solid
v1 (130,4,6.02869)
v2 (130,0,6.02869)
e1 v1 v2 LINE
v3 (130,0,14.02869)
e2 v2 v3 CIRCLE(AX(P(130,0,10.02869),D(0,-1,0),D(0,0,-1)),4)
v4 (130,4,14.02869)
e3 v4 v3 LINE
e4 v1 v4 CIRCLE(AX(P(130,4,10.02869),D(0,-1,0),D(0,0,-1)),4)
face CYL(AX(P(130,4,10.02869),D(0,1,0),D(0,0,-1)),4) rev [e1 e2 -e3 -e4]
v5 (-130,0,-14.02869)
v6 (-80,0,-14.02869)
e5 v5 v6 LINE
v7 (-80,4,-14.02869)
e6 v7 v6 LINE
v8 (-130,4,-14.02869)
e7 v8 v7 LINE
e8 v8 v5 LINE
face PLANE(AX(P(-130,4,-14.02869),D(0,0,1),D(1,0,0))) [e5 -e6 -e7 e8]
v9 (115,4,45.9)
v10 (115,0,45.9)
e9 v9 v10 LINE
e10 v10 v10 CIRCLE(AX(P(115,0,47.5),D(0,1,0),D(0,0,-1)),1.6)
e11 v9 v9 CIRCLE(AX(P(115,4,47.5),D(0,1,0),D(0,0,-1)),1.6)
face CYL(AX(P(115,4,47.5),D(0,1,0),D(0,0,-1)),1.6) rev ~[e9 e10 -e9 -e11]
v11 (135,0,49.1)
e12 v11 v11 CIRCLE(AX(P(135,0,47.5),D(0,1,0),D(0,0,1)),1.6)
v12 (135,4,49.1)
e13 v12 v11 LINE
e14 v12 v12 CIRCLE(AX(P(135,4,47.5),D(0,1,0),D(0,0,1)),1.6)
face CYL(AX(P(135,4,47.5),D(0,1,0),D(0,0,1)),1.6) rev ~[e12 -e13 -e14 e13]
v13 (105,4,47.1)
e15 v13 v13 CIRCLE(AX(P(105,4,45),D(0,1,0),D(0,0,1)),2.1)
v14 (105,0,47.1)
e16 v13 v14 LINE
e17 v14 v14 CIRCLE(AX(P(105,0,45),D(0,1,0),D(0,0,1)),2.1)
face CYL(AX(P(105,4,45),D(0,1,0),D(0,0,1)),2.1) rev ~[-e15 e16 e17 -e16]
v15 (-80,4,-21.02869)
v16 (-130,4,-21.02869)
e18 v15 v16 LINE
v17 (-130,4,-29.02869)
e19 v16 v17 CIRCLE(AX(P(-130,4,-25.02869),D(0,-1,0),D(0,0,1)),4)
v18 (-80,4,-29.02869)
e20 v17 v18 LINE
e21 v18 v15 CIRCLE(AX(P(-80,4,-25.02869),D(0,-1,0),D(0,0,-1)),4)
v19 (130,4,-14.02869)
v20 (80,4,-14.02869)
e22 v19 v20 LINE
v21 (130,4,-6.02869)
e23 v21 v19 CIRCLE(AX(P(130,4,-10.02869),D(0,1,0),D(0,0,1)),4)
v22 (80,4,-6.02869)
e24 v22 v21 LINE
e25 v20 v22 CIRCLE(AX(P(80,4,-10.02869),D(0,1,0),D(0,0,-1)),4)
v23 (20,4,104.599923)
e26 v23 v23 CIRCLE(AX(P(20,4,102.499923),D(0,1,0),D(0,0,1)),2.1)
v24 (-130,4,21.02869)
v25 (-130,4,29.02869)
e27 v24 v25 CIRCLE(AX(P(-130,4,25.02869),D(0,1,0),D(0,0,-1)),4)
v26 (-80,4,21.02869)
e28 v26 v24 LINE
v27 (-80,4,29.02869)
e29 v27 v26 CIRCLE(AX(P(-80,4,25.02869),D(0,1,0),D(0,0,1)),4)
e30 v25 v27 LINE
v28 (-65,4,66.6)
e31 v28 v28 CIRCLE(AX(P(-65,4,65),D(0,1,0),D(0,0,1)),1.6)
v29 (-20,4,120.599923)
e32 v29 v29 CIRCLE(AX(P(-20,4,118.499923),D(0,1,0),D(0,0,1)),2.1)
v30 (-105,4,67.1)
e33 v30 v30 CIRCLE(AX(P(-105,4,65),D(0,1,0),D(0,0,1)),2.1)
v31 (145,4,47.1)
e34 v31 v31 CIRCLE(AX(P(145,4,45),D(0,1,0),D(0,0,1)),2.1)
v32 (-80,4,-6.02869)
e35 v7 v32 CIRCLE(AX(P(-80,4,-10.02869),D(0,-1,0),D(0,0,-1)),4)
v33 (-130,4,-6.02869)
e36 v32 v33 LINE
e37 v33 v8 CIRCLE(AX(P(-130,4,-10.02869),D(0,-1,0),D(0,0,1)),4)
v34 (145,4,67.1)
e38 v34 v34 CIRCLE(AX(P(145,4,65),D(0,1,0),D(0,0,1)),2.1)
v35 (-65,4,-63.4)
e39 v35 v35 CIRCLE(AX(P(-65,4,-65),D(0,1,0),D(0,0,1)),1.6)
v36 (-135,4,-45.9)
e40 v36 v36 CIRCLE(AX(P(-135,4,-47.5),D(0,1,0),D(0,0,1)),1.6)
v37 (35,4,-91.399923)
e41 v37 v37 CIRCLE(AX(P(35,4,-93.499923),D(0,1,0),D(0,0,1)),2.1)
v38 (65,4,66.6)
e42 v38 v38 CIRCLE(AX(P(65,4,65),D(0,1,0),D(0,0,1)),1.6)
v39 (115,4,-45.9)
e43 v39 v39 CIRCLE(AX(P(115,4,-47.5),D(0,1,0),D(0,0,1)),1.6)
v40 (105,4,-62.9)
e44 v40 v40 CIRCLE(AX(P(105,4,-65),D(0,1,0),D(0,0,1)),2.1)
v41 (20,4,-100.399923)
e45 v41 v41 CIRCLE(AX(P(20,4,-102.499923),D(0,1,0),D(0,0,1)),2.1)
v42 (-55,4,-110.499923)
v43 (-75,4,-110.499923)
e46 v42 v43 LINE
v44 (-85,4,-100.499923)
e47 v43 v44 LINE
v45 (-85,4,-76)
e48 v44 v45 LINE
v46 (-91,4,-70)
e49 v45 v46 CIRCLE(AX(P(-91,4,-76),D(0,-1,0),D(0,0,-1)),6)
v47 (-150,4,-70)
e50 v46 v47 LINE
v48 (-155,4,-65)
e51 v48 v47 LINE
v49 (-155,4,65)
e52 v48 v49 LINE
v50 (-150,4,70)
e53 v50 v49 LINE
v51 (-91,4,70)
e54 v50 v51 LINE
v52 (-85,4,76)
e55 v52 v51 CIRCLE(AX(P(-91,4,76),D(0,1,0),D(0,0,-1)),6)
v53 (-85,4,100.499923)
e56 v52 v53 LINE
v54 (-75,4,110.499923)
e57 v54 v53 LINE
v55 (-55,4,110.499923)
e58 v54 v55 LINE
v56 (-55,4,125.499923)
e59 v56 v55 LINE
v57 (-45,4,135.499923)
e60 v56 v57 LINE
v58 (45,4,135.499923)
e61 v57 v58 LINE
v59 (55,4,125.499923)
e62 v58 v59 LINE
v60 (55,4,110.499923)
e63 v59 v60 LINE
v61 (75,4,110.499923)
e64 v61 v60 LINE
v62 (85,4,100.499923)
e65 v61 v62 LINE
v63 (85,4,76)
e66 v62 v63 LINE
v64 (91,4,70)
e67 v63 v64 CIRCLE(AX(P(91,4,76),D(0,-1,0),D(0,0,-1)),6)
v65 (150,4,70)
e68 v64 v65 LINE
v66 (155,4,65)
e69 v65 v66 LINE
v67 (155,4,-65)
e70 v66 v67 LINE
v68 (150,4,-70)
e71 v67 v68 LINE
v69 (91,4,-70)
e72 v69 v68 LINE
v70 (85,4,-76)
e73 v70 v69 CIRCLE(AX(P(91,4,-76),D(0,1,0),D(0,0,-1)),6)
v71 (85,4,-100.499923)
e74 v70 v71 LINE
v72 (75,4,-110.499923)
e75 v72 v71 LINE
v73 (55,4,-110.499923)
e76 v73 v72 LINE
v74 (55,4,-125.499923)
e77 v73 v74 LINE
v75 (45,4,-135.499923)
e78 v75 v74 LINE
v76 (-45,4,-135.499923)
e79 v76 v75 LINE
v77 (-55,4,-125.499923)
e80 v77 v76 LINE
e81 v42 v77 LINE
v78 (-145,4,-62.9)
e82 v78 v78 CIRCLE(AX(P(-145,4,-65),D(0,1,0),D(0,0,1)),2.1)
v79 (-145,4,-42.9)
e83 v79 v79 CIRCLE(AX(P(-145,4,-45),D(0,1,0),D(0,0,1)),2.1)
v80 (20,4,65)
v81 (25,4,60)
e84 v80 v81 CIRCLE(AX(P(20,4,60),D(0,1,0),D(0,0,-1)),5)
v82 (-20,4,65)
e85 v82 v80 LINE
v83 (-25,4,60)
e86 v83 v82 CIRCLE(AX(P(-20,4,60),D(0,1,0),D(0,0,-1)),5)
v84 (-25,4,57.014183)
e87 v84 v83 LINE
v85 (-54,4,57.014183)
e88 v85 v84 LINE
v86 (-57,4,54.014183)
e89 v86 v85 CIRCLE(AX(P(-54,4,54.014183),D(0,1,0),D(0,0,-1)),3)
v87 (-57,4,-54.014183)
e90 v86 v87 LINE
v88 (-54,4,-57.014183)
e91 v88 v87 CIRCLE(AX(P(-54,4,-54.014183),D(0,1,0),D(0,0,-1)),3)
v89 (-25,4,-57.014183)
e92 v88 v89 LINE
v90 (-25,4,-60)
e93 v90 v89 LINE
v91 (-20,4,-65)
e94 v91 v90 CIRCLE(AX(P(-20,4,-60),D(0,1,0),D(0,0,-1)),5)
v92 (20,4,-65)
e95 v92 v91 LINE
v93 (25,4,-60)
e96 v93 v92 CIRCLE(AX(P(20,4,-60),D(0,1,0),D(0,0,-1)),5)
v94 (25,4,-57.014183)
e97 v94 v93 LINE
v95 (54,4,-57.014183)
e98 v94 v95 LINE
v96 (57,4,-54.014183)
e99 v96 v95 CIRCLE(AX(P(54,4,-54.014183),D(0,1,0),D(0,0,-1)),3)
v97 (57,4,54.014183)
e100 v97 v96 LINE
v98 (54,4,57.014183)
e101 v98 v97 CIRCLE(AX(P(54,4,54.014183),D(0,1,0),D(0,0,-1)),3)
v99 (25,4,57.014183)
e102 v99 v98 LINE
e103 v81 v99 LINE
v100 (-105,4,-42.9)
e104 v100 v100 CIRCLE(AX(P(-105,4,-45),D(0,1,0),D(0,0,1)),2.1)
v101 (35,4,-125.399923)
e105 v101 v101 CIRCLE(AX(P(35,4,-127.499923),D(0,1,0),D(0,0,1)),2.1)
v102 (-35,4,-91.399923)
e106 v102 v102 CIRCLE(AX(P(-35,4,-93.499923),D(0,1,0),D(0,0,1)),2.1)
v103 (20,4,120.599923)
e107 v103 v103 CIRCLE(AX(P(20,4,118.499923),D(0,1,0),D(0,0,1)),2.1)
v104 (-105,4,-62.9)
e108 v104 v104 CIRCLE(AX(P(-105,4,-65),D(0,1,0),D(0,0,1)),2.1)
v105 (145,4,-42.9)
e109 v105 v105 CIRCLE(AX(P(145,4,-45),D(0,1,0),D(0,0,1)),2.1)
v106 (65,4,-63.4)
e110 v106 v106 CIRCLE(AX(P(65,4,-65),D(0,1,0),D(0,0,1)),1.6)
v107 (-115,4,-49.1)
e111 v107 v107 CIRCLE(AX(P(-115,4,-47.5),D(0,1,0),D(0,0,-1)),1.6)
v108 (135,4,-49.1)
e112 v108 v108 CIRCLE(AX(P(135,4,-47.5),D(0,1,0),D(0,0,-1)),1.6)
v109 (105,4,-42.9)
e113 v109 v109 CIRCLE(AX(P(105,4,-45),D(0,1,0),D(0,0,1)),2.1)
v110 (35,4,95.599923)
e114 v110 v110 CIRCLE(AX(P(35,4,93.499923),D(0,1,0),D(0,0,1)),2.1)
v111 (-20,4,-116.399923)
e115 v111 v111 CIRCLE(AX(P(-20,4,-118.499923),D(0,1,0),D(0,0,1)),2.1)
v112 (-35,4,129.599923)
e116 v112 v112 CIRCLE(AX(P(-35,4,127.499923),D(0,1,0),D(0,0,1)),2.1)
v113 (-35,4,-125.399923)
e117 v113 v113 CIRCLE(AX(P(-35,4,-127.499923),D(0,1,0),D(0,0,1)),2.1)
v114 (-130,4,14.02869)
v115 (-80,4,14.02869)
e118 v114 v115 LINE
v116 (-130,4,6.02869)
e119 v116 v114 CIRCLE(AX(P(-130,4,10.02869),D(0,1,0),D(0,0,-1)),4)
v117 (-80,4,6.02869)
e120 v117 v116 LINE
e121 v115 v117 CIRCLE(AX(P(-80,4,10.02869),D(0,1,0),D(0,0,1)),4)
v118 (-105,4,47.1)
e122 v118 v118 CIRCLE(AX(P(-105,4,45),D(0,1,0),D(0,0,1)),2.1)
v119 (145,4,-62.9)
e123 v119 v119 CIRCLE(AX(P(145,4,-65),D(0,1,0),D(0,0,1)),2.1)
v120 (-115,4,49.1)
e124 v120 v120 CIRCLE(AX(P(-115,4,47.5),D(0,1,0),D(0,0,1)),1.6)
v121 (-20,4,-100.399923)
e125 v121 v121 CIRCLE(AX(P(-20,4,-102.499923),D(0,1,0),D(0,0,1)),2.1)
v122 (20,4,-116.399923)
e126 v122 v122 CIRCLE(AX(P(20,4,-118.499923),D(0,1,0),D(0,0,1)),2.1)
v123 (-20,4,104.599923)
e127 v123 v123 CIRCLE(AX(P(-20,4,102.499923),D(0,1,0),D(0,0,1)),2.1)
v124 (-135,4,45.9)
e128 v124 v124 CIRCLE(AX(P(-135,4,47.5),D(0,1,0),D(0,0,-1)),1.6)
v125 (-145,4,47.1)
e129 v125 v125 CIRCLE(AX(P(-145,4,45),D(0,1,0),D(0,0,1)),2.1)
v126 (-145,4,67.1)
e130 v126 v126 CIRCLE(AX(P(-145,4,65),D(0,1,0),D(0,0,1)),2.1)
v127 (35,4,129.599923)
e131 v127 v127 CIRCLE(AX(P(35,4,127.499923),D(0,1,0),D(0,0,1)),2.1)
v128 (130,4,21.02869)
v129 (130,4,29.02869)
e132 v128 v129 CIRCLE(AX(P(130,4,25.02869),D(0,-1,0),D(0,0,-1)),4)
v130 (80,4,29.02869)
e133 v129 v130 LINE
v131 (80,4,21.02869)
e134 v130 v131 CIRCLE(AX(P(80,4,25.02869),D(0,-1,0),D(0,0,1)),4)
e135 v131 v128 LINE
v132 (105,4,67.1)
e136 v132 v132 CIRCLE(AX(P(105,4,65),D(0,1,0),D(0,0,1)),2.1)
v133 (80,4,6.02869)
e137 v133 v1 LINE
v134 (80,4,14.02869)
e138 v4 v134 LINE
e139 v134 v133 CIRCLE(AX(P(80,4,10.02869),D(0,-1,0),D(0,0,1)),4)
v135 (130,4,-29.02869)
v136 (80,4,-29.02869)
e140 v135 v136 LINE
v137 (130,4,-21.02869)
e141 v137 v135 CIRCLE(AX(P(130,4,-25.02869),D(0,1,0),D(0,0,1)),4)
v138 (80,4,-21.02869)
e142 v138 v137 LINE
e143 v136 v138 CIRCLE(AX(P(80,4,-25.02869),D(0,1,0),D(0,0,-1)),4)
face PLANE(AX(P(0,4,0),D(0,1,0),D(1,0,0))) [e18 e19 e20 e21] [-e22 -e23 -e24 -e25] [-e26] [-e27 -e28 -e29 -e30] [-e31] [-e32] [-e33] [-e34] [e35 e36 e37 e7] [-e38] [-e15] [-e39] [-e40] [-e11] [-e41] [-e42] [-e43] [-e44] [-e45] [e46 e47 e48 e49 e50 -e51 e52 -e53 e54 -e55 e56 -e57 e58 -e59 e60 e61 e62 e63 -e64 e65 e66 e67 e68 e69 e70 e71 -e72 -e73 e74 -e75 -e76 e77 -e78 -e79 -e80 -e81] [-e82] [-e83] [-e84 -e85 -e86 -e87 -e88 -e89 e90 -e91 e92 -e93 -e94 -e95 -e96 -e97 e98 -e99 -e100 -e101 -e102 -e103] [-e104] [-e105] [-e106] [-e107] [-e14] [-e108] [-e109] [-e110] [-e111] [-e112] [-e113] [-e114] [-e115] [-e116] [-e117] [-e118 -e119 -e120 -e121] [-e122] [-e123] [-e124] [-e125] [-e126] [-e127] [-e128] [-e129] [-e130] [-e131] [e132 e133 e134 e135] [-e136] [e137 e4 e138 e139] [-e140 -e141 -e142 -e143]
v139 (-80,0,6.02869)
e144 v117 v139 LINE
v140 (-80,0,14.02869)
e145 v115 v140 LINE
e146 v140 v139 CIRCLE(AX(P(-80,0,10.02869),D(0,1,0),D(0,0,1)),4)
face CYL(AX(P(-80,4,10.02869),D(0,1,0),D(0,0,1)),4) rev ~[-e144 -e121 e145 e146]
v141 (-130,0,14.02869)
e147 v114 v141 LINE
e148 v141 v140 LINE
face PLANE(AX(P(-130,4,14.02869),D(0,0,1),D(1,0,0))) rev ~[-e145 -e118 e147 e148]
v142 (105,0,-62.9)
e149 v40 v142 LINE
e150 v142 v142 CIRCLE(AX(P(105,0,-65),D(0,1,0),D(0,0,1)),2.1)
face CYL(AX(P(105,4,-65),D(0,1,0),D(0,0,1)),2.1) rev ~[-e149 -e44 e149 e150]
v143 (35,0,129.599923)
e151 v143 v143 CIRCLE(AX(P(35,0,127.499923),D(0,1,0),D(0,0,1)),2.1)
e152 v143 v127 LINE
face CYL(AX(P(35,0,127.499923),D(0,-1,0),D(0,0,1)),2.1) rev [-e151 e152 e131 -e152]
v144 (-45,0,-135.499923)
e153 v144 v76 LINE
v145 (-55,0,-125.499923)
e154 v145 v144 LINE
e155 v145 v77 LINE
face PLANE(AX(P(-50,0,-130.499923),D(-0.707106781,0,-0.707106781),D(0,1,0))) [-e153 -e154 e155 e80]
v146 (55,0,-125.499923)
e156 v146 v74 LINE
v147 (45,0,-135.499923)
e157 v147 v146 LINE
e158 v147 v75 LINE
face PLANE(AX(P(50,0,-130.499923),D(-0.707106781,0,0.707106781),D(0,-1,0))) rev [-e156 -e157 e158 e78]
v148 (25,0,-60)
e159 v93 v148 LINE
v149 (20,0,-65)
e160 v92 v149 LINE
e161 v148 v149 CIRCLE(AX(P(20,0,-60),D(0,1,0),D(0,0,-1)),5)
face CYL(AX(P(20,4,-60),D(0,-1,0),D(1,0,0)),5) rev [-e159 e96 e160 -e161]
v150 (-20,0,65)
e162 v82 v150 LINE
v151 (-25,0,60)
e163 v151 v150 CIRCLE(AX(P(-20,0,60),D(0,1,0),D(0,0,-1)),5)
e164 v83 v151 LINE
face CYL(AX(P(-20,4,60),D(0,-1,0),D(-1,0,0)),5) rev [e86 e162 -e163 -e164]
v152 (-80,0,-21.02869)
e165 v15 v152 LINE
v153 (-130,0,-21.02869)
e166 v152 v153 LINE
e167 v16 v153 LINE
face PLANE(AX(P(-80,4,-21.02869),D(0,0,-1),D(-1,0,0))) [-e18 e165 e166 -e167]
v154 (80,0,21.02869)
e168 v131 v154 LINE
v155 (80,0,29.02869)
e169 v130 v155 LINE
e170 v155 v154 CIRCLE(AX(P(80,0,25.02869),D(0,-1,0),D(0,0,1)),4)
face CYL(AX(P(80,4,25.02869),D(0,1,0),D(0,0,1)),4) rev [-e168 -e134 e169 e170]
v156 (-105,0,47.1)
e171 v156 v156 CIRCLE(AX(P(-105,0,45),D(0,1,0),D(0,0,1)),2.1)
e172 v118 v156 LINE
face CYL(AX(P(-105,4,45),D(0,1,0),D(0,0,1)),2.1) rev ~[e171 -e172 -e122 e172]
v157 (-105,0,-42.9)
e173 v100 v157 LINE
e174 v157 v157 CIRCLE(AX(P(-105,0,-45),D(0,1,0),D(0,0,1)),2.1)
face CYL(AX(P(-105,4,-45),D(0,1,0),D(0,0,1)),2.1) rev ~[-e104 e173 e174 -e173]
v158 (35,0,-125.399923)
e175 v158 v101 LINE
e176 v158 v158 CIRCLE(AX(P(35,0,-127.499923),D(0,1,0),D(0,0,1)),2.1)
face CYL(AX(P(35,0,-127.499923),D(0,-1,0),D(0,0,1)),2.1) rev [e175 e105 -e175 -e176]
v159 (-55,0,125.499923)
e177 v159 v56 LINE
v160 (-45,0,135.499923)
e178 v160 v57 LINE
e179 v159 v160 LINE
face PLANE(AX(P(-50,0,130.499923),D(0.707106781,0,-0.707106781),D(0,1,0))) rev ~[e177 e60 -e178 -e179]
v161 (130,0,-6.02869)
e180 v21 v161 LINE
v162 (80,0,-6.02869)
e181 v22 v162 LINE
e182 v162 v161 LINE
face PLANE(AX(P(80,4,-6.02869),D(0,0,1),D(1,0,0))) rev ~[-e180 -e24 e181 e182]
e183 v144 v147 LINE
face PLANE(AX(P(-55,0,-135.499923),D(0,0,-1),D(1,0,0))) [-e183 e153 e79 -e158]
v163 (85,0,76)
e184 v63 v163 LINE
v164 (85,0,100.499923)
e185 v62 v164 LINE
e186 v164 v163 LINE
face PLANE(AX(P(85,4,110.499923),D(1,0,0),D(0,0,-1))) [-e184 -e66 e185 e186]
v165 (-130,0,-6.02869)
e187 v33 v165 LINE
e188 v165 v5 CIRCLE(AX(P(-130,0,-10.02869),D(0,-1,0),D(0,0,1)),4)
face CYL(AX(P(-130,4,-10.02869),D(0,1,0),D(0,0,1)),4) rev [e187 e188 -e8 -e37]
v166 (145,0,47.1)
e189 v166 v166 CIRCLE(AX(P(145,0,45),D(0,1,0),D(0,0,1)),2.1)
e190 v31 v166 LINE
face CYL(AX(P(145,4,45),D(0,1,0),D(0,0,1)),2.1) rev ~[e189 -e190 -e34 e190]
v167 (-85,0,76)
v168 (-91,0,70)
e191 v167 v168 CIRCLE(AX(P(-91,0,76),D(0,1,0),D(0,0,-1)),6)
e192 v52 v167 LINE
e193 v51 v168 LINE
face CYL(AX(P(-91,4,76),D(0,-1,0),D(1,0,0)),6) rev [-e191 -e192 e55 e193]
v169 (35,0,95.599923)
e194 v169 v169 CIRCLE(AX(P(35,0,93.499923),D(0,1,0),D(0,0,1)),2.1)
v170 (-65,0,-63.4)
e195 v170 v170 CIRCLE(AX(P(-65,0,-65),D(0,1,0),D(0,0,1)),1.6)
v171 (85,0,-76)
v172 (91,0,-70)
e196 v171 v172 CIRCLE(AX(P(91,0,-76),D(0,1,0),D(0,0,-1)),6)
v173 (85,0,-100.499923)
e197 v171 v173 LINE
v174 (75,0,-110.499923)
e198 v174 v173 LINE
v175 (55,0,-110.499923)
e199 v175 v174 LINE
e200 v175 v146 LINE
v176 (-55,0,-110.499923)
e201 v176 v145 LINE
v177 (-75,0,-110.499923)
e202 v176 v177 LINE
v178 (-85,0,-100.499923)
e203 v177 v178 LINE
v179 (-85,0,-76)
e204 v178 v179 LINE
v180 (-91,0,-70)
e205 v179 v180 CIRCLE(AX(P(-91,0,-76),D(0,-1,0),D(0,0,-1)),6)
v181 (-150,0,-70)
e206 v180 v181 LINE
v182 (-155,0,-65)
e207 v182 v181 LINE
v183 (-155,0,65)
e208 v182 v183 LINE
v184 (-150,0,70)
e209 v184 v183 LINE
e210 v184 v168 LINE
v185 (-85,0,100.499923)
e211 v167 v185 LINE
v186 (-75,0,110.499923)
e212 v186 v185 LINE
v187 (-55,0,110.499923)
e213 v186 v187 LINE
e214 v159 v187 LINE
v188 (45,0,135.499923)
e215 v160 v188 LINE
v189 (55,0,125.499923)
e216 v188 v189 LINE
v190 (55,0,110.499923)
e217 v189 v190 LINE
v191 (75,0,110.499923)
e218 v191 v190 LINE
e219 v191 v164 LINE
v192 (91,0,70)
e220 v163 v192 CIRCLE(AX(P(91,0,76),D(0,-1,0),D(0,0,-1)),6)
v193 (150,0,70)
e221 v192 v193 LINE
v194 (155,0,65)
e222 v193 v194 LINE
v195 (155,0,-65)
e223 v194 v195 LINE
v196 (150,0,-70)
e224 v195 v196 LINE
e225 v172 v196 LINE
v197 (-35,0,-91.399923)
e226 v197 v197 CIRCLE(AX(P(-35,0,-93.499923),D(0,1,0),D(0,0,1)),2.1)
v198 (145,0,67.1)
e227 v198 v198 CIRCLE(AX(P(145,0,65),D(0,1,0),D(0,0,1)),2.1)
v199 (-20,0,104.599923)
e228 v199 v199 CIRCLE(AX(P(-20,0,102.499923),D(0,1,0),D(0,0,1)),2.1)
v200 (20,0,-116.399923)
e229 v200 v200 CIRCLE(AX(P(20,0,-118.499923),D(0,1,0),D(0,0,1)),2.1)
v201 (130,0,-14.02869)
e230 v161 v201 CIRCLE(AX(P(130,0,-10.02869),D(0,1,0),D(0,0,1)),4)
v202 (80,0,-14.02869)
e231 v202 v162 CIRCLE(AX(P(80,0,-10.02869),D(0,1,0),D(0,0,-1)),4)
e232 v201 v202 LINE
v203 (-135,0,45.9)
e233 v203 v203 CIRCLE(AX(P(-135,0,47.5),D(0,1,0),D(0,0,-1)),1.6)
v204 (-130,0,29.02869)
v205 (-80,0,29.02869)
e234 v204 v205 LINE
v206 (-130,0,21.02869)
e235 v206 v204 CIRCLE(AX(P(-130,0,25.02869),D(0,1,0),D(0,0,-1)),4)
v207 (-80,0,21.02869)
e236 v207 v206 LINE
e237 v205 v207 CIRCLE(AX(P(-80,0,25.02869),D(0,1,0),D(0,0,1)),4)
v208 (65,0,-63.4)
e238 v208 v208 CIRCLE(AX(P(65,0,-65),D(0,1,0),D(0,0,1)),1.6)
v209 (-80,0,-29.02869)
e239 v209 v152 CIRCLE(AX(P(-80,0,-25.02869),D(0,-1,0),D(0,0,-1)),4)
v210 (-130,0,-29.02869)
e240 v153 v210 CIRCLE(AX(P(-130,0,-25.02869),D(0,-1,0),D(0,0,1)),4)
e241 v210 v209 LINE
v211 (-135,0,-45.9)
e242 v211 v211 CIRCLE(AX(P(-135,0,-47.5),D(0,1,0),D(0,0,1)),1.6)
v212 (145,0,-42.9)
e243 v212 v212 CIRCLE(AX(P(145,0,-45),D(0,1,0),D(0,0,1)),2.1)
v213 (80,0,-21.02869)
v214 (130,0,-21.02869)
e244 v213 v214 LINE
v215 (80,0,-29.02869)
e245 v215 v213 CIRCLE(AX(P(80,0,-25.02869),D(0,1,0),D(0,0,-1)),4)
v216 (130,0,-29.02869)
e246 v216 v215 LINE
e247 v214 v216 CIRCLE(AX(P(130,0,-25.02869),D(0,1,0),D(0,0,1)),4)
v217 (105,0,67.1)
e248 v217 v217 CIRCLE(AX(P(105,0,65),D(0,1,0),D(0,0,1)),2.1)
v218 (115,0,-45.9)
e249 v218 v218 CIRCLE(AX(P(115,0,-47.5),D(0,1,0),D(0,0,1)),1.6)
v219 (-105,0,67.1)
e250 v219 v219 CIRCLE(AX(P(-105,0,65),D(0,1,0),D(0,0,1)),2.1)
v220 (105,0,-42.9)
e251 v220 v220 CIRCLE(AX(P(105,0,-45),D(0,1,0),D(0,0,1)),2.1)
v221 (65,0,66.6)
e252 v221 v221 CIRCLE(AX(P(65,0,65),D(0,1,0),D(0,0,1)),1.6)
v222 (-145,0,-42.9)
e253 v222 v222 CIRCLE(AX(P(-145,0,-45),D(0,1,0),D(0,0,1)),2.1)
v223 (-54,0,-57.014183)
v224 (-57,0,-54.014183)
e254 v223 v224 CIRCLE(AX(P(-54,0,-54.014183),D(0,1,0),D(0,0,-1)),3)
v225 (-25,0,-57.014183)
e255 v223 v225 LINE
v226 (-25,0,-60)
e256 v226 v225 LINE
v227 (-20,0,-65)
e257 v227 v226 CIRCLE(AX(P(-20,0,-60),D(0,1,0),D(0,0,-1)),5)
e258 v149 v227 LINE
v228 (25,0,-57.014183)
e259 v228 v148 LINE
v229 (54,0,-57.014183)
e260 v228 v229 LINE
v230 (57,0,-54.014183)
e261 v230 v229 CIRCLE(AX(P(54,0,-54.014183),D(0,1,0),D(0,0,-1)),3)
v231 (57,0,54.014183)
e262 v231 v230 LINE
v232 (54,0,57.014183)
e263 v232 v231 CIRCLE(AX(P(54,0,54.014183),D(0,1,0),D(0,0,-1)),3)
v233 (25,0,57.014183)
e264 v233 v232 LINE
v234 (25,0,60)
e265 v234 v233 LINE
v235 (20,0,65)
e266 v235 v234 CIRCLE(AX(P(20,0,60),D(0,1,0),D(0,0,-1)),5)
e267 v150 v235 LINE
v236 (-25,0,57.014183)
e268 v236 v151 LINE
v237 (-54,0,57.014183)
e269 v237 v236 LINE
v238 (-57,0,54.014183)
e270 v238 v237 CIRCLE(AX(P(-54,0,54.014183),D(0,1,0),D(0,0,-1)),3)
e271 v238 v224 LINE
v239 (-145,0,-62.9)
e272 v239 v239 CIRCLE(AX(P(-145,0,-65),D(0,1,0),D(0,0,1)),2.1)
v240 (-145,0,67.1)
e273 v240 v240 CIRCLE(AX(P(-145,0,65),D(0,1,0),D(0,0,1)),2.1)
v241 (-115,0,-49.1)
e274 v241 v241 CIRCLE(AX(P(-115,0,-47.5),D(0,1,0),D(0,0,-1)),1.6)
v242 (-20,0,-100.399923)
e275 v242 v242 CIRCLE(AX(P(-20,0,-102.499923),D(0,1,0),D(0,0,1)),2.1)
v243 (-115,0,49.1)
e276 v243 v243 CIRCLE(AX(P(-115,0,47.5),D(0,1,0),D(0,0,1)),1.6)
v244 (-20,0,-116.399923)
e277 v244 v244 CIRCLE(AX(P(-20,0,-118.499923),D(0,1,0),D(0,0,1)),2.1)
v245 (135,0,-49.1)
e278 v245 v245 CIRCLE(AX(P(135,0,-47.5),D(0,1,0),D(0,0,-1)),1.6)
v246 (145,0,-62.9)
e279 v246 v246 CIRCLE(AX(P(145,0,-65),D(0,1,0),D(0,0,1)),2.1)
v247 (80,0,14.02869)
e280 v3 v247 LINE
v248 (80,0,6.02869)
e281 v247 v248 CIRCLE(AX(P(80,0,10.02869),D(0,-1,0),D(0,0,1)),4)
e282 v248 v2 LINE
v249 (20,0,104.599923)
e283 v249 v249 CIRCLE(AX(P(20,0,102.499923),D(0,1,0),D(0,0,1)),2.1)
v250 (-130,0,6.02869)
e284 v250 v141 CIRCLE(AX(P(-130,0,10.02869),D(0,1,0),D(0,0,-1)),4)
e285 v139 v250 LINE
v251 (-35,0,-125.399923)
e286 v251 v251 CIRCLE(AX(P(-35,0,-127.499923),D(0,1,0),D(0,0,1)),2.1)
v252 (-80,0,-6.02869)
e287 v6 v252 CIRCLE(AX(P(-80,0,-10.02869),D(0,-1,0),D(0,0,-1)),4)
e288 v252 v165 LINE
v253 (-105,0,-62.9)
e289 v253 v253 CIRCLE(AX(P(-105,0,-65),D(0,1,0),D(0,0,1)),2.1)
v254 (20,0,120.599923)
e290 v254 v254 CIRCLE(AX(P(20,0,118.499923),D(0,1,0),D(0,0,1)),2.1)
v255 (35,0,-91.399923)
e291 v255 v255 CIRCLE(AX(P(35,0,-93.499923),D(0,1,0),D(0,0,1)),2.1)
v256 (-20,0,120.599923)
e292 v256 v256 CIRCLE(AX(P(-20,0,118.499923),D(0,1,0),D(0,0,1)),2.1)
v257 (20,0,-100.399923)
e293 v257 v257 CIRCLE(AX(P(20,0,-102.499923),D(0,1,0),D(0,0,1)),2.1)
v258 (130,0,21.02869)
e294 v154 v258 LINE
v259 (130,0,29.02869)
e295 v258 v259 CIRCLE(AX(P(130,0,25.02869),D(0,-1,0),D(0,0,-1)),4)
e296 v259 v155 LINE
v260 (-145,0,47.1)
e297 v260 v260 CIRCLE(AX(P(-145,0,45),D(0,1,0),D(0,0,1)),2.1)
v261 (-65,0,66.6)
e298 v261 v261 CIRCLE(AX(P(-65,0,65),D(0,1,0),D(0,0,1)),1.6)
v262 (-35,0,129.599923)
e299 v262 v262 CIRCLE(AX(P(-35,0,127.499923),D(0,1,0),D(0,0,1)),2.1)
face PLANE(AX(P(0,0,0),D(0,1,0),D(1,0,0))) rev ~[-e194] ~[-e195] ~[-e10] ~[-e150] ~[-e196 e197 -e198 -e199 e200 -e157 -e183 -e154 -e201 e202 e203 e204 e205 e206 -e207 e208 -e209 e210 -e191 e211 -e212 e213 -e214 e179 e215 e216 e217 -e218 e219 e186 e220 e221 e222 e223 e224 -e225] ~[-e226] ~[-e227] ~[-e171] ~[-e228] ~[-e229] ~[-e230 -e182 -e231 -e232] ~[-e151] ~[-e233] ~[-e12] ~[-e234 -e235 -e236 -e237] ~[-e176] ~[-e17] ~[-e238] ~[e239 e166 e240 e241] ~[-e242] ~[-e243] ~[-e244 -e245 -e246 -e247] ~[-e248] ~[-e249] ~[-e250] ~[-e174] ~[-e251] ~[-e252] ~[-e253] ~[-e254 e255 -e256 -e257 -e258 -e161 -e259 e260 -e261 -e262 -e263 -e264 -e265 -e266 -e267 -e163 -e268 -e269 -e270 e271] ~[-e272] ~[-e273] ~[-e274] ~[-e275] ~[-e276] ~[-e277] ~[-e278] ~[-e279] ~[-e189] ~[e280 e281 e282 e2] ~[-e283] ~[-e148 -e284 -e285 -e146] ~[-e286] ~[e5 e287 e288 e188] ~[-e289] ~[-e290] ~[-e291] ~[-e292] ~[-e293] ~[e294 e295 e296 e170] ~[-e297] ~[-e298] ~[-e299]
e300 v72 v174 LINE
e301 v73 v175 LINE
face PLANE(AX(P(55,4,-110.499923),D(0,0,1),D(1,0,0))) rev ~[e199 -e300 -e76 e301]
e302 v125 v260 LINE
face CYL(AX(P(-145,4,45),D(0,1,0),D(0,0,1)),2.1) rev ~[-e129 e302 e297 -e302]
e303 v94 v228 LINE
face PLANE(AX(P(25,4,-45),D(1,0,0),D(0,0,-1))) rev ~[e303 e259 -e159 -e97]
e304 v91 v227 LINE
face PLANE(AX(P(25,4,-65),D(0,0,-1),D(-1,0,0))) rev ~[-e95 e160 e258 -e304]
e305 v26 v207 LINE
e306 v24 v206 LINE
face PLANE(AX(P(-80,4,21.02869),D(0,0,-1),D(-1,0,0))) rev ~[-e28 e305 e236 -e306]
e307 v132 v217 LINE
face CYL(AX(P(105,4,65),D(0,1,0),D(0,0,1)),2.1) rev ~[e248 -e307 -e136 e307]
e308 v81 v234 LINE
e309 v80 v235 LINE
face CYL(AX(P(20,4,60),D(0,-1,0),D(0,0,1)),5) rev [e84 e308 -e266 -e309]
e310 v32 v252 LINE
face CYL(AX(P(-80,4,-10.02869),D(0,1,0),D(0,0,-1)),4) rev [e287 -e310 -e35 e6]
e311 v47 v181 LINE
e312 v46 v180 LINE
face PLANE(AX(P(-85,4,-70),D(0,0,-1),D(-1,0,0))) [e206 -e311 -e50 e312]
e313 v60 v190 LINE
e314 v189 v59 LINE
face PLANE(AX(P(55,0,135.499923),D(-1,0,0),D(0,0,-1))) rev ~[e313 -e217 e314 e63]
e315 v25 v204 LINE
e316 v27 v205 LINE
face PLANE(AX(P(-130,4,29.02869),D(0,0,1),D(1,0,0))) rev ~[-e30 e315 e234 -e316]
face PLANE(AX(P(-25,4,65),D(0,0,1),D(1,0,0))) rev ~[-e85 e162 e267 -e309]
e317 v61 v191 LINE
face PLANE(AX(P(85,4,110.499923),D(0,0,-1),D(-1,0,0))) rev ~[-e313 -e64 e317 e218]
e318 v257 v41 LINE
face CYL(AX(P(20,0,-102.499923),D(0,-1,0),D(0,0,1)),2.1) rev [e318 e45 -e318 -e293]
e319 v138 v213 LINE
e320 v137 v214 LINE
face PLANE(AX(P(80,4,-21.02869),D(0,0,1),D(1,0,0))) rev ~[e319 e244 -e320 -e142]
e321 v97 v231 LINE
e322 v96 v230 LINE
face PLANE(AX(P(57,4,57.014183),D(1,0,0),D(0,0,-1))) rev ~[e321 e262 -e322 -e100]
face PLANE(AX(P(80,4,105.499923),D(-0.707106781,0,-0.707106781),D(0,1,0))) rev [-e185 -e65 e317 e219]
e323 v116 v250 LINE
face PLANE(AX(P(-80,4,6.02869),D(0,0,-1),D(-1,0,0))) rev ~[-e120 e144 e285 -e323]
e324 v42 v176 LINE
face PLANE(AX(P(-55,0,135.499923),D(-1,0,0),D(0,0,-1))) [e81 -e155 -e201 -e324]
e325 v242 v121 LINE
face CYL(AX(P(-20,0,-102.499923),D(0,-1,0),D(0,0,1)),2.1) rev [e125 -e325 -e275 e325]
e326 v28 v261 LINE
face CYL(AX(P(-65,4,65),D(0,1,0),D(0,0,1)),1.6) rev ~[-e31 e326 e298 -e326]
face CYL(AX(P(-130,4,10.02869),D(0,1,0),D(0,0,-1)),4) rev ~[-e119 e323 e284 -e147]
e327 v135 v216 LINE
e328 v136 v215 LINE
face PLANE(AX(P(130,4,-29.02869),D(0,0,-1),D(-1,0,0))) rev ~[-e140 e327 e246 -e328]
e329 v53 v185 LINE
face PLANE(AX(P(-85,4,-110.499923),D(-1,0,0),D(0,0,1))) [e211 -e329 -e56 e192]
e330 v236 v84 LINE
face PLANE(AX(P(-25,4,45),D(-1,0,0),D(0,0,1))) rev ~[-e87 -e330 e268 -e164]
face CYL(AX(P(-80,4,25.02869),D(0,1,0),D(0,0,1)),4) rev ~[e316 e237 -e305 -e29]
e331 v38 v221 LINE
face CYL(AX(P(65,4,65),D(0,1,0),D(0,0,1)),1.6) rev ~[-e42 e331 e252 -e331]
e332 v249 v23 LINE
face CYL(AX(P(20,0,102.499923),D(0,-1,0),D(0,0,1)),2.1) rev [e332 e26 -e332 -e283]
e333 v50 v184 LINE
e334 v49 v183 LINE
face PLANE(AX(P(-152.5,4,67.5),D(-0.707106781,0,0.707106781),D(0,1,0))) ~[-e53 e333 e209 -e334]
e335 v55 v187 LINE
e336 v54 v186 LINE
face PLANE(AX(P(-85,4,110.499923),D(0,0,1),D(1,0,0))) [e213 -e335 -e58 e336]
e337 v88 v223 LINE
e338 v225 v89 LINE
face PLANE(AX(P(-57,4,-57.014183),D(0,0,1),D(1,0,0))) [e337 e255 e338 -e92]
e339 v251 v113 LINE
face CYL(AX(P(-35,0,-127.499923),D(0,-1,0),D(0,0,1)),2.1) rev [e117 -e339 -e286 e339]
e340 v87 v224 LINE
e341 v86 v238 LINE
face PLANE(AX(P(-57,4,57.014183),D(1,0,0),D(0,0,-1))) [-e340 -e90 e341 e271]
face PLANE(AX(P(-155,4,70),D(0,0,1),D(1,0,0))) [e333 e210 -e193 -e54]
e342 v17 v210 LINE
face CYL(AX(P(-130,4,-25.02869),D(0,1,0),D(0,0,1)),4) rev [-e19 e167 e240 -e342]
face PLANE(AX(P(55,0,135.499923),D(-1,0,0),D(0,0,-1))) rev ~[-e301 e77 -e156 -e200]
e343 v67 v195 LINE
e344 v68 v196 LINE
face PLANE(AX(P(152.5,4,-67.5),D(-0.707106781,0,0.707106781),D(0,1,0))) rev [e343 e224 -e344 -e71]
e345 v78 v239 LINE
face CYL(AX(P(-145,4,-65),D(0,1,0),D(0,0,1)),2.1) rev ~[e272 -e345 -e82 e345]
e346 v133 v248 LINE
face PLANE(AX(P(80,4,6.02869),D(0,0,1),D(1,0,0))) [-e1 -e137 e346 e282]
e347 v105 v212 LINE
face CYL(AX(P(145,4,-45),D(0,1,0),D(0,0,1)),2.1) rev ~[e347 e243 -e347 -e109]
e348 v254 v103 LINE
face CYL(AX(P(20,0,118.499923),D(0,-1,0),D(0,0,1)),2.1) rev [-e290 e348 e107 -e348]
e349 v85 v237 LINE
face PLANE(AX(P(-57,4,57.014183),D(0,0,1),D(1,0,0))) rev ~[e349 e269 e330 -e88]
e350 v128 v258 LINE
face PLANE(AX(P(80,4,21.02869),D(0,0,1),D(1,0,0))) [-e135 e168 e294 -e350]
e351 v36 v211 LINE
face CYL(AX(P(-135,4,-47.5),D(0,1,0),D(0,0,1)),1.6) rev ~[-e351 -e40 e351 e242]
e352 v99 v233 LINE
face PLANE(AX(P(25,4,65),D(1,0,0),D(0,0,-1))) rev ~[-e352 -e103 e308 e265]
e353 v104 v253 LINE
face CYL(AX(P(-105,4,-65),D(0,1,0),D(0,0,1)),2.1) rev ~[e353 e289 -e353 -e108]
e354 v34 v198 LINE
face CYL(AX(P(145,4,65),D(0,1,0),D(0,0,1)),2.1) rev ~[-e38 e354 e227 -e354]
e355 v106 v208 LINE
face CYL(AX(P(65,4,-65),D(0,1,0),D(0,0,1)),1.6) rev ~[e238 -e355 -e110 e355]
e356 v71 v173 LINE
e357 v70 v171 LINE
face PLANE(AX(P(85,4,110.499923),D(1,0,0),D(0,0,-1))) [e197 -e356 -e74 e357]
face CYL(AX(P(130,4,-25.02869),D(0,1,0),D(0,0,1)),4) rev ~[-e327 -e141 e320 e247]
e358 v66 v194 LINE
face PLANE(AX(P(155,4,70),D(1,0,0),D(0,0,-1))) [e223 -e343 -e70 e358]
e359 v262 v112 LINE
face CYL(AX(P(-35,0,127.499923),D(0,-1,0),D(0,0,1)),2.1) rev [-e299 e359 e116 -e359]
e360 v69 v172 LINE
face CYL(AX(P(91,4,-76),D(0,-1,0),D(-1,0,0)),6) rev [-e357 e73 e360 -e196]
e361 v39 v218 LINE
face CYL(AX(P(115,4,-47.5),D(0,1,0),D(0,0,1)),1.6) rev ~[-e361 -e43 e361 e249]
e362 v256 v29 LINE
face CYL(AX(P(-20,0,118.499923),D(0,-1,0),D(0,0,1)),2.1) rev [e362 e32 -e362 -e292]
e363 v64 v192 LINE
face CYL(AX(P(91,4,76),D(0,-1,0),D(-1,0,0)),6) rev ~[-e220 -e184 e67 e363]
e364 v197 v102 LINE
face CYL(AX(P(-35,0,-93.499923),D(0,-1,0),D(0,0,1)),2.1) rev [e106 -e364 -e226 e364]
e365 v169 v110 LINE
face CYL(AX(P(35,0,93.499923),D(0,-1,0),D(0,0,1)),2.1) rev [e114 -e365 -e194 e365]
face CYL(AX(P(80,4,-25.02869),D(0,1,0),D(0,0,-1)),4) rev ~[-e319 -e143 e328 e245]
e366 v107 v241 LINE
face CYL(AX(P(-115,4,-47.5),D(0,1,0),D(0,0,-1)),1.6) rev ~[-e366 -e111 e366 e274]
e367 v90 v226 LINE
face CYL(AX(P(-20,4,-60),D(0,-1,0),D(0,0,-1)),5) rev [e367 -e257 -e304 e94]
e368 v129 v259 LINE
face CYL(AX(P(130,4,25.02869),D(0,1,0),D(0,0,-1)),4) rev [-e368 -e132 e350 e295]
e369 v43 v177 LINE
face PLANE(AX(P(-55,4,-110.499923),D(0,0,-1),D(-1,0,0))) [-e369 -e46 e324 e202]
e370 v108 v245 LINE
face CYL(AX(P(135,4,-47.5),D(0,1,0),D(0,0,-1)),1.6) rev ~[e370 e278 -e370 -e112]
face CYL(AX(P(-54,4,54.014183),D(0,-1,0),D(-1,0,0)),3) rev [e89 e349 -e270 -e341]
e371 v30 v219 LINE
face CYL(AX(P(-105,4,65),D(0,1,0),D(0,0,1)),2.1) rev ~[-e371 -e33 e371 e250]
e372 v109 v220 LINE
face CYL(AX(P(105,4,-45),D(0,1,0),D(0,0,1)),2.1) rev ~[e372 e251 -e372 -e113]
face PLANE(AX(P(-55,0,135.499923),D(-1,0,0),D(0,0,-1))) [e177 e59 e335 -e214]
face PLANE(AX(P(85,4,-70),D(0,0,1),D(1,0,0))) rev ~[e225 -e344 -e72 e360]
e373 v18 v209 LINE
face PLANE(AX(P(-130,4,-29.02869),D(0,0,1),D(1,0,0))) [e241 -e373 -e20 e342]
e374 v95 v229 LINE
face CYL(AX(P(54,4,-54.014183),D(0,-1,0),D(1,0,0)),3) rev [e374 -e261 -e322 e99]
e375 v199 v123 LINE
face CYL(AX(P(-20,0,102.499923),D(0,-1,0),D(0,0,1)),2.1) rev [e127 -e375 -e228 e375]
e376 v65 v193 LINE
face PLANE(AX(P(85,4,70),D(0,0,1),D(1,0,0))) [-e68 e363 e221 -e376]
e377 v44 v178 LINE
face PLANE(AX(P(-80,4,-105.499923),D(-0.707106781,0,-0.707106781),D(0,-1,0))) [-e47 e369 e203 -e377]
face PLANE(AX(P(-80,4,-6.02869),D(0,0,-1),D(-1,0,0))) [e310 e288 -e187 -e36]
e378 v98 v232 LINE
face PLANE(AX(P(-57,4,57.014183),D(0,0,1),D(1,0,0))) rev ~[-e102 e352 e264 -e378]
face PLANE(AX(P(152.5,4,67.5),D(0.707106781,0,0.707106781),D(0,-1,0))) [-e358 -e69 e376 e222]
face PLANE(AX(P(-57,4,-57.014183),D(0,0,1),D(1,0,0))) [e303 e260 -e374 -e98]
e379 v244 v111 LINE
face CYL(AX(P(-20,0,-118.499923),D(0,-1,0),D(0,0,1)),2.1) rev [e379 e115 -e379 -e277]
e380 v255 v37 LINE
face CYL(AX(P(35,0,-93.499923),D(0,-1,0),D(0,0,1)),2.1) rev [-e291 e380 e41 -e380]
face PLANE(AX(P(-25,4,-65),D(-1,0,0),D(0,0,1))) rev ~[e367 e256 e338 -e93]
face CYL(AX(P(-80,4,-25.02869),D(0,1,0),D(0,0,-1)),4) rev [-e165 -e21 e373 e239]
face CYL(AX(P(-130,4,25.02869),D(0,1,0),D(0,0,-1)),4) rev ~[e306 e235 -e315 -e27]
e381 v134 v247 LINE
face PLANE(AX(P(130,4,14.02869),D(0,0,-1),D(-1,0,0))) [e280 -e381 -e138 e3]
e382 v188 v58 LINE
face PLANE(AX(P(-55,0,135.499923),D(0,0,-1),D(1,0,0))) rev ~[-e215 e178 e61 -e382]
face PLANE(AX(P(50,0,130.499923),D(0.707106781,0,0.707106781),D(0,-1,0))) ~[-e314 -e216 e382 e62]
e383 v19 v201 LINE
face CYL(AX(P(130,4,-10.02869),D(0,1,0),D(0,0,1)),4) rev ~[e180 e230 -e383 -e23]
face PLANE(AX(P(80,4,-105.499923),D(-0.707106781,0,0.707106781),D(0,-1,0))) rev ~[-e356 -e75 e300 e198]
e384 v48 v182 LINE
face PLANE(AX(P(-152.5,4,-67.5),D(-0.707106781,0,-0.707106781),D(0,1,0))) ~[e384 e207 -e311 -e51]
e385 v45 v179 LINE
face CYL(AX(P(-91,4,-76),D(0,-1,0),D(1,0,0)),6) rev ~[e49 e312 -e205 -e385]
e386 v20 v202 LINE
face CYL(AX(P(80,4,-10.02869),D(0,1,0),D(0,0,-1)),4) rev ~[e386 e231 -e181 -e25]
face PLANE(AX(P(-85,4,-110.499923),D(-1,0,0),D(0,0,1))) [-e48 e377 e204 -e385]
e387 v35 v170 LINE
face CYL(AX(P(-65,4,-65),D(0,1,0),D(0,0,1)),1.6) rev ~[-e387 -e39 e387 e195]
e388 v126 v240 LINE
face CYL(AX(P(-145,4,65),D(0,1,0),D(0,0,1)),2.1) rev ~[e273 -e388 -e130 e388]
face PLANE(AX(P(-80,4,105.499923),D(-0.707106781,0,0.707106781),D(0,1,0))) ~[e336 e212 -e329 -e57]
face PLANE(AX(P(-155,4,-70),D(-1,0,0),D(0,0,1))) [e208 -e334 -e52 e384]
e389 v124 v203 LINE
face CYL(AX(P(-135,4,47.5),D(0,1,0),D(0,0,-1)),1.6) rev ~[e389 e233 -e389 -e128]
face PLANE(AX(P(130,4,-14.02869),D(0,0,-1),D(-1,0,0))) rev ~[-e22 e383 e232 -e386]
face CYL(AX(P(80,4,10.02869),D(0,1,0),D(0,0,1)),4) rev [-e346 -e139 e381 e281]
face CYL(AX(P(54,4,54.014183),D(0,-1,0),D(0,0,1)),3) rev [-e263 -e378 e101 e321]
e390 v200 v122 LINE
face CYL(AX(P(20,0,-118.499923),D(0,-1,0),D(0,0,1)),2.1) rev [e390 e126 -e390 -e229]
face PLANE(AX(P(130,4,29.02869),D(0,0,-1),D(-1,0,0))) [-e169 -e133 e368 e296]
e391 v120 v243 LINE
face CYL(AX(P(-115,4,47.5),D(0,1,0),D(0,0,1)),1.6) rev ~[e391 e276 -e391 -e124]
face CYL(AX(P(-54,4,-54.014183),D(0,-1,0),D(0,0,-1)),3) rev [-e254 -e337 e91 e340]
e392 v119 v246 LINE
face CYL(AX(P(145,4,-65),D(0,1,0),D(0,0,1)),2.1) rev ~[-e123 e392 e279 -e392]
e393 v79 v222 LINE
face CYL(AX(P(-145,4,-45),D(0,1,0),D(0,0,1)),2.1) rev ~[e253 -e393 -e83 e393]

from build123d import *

# Parameters (mm, degrees)
SKETCH_1_W          = 110
SKETCH_1_H          = 270.99984649
SKETCH_1_R          = 2.1
EXTRUDE_1_DEPTH     = 4
CHAMFER_1_SIZE      = 10
CUT_EXTRUDE_1_DEPTH = 4
FILLET_1_R          = 5
EXTRUDE_2_DEPTH     = 4
CHAMFER_2_SIZE      = 10
FILLET_3_R          = 5
SKETCH_5_R          = 1.6
CUT_EXTRUDE_2_DEPTH = 4
SKETCH_7_W          = 70
SKETCH_7_H          = 140
EXTRUDE_3_DEPTH     = 4
FILLET_4_R          = 6
SKETCH_8_R          = 2.1
CUT_EXTRUDE_3_DEPTH = 4
SKETCH_9_R          = 1.6
CUT_EXTRUDE_4_DEPTH = 4
CHAMFER_3_SIZE      = 5
SKETCH_11_W         = 114
SKETCH_11_H         = 114.028365308
CUT_EXTRUDE_5_DEPTH = 10
FILLET_5_R          = 3


with BuildPart() as part:
    # 草图1 → 凸台-拉伸1 (new body)
    with BuildSketch(Plane(origin=(0, 0, 0), x_dir=(1, 0, 0), z_dir=(0, 1, 0))):
        Rectangle(SKETCH_1_W, SKETCH_1_H)
        with Locations(Location((-35, 127.499923245, 0), (0, 0, 270))):
            Circle(SKETCH_1_R, mode=Mode.SUBTRACT)
        with Locations(Location((-20, 118.499923245, 0), (0, 0, 270))):
            Circle(SKETCH_1_R, mode=Mode.SUBTRACT)
        with Locations(Location((20, 118.499923245, 0), (0, 0, 270))):
            Circle(SKETCH_1_R, mode=Mode.SUBTRACT)
        with Locations(Location((35, 127.499923245, 0), (0, 0, 270))):
            Circle(SKETCH_1_R, mode=Mode.SUBTRACT)
        with Locations(Location((20, 102.499923245, 0), (0, 0, 270))):
            Circle(SKETCH_1_R, mode=Mode.SUBTRACT)
        with Locations(Location((35, 93.499923245, 0), (0, 0, 270))):
            Circle(SKETCH_1_R, mode=Mode.SUBTRACT)
        with Locations(Location((-35, 93.499923245, 0), (0, 0, 270))):
            Circle(SKETCH_1_R, mode=Mode.SUBTRACT)
        with Locations(Location((-20, 102.499923245, 0), (0, 0, 270))):
            Circle(SKETCH_1_R, mode=Mode.SUBTRACT)
        with Locations(Location((-35, -127.499923245, 0), (0, 0, 270))):
            Circle(SKETCH_1_R, mode=Mode.SUBTRACT)
        with Locations(Location((-20, -118.499923245, 0), (0, 0, 270))):
            Circle(SKETCH_1_R, mode=Mode.SUBTRACT)
        with Locations(Location((-20, -102.499923245, 0), (0, 0, 270))):
            Circle(SKETCH_1_R, mode=Mode.SUBTRACT)
        with Locations(Location((20, -118.499923245, 0), (0, 0, 270))):
            Circle(SKETCH_1_R, mode=Mode.SUBTRACT)
        with Locations(Location((20, -102.499923245, 0), (0, 0, 270))):
            Circle(SKETCH_1_R, mode=Mode.SUBTRACT)
        with Locations(Location((35, -93.499923245, 0), (0, 0, 270))):
            Circle(SKETCH_1_R, mode=Mode.SUBTRACT)
        with Locations(Location((35, -127.499923245, 0), (0, 0, 270))):
            Circle(SKETCH_1_R, mode=Mode.SUBTRACT)
    extrude(amount=EXTRUDE_1_DEPTH)

    # 倒角1
    chamfer_1_edges = [part.edges().sort_by_distance(p)[0] for p in [
        (55, 2, -135.499923245),
        (55, 2, 135.499923245),
        (-55, 2, 135.499923245),
        (-55, 2, -135.499923245),
    ]]
    chamfer(chamfer_1_edges, length=CHAMFER_1_SIZE)

    # 草图2 → 切除-拉伸1 (cut)
    with BuildSketch(Plane(origin=(0, 4, 0), x_dir=(1, 0, 0), z_dir=(0, 1, 0))):
        Polygon((-25, 45), (-40, 30), (-40, -30), (-25, -45), (-25, -65), (25, -65), (25, -45), (40, -30), (40, 30), (25, 45), (25, 65), (-25, 65), align=None)
    extrude(amount=-CUT_EXTRUDE_1_DEPTH, mode=Mode.SUBTRACT)

    # 圆角1
    fillet_1_edges = [part.edges().sort_by_distance(p)[0] for p in [
        (25, 2, -65),
        (25, 2, 65),
        (-25, 2, 65),
        (-25, 2, -65),
    ]]
    fillet(fillet_1_edges, radius=FILLET_1_R)

    # 草图3 → 凸台-拉伸2 (add)
    with BuildSketch(Plane(origin=(0, 4, 0), x_dir=(1, 0, 0), z_dir=(0, 1, 0))):
        Polygon((55, 110.499923245), (85, 110.499923245), (85, 93.499923245), (85, -102.499923245), (85, -110.499923245), (55, -110.499923245), (55, -102.499923245), (55, 93.499923245), align=None)
        Polygon((-85, 93.499923245), (-85, -102.499923245), (-85, -110.499923245), (-55, -110.499923245), (-55, -102.499923245), (-55, 93.499923245), (-55, 110.499923245), (-85, 110.499923245), align=None)
    extrude(amount=-EXTRUDE_2_DEPTH)

    # 倒角2
    chamfer_2_edges = [part.edges().sort_by_distance(p)[0] for p in [
        (-85, 2, 110.499923245),
        (85, 2, 110.499923245),
        (85, 2, -110.499923245),
        (-85, 2, -110.499923245),
    ]]
    chamfer(chamfer_2_edges, length=CHAMFER_2_SIZE)

    # 圆角3
    fillet_3_edges = [part.edges().sort_by_distance(p)[0] for p in [
        (40, 2, -30),
        (40, 2, 30),
        (-40, 2, 30),
        (-40, 2, -30),
    ]]
    fillet(fillet_3_edges, radius=FILLET_3_R)

    # 草图5 → 切除-拉伸2 (cut)
    with BuildSketch(Plane(origin=(0, 4, 0), x_dir=(1, 0, 0), z_dir=(0, 1, 0))):
        with Locations(Location((-65, 65, 0), (0, 0, 270))):
            Circle(SKETCH_5_R)
        with Locations(Location((65, 65, 0), (0, 0, 270))):
            Circle(SKETCH_5_R)
        with Locations(Location((65, -65, 0), (0, 0, 270))):
            Circle(SKETCH_5_R)
        with Locations(Location((-65, -65, 0), (0, 0, 270))):
            Circle(SKETCH_5_R)
    extrude(amount=-CUT_EXTRUDE_2_DEPTH, mode=Mode.SUBTRACT)

    # 草图7 → 凸台-拉伸3 (add)
    with BuildSketch(Plane(origin=(0, 4, 0), x_dir=(1, 0, 0), z_dir=(0, 1, 0))):
        Polygon((-85, 0), (-85, 70), (-155, 70), (-155, -70), (-85, -70), align=None)
        with Locations((120, 0)):
            Rectangle(SKETCH_7_W, SKETCH_7_H)
    extrude(amount=-EXTRUDE_3_DEPTH)

    # 圆角4
    fillet_4_edges = [part.edges().sort_by_distance(p)[0] for p in [
        (-85, 2, 70),
        (-85, 2, -70),
        (85, 2, 70),
        (85, 2, -70),
    ]]
    fillet(fillet_4_edges, radius=FILLET_4_R)

    # 草图8 → 切除-拉伸3 (cut)
    with BuildSketch(Plane(origin=(0, 4, 0), x_dir=(1, 0, 0), z_dir=(0, 1, 0))):
        with Locations(Location((105, 65, 0), (0, 0, 270))):
            Circle(SKETCH_8_R)
        with Locations(Location((145, 65, 0), (0, 0, 270))):
            Circle(SKETCH_8_R)
        with Locations(Location((145, 45, 0), (0, 0, 270))):
            Circle(SKETCH_8_R)
        with Locations(Location((105, 45, 0), (0, 0, 270))):
            Circle(SKETCH_8_R)
        with Locations(Location((145, -45, 0), (0, 0, 270))):
            Circle(SKETCH_8_R)
        with Locations(Location((145, -65, 0), (0, 0, 270))):
            Circle(SKETCH_8_R)
        with Locations(Location((105, -65, 0), (0, 0, 270))):
            Circle(SKETCH_8_R)
        with Locations(Location((105, -45, 0), (0, 0, 270))):
            Circle(SKETCH_8_R)
        with Locations(Location((-145, 65, 0), (0, 0, 270))):
            Circle(SKETCH_8_R)
        with Locations(Location((-105, 65, 0), (0, 0, 270))):
            Circle(SKETCH_8_R)
        with Locations(Location((-105, 45, 0), (0, 0, 270))):
            Circle(SKETCH_8_R)
        with Locations(Location((-145, 45, 0), (0, 0, 270))):
            Circle(SKETCH_8_R)
        with Locations(Location((-145, -45, 0), (0, 0, 270))):
            Circle(SKETCH_8_R)
        with Locations(Location((-105, -45, 0), (0, 0, 270))):
            Circle(SKETCH_8_R)
        with Locations(Location((-105, -65, 0), (0, 0, 270))):
            Circle(SKETCH_8_R)
        with Locations(Location((-145, -65, 0), (0, 0, 270))):
            Circle(SKETCH_8_R)
    extrude(amount=-CUT_EXTRUDE_3_DEPTH, mode=Mode.SUBTRACT)

    # 草图9 → 切除-拉伸4 (cut)
    with BuildSketch(Plane(origin=(0, 4, 0), x_dir=(1, 0, 0), z_dir=(0, 1, 0))):
        with Locations(Location((-135, 47.5, 0), (0, 0, 270))):
            Circle(SKETCH_9_R)
        with Locations(Location((-115, 47.5, 0), (0, 0, 90))):
            Circle(SKETCH_9_R)
        with Locations(Location((-115, -47.5, 0), (0, 0, 270))):
            Circle(SKETCH_9_R)
        with Locations(Location((-135, -47.5, 0), (0, 0, 90))):
            Circle(SKETCH_9_R)
        with Locations(Location((135, -47.5, 0), (0, 0, 270))):
            Circle(SKETCH_9_R)
        with Locations(Location((115, -47.5, 0), (0, 0, 90))):
            Circle(SKETCH_9_R)
        with Locations(Location((115, 47.5, 0), (0, 0, 270))):
            Circle(SKETCH_9_R)
        with Locations(Location((135, 47.5, 0), (0, 0, 90))):
            Circle(SKETCH_9_R)
        with BuildLine():
            Line((-130, 29.028690408), (-80, 29.028690408))
            ThreePointArc((-80, 29.028690408), (-76, 25.028690408), (-80, 21.028690408))
            Line((-80, 21.028690408), (-130, 21.028690408))
            ThreePointArc((-130, 21.028690408), (-134, 25.028690408), (-130, 29.028690408))
        make_face()
        with BuildLine():
            Line((-130, 14.028690408), (-80, 14.028690408))
            ThreePointArc((-80, 14.028690408), (-76, 10.028690408), (-80, 6.028690408))
            Line((-80, 6.028690408), (-130, 6.028690408))
            ThreePointArc((-130, 6.028690408), (-134, 10.028690408), (-130, 14.028690408))
        make_face()
        with BuildLine():
            Line((-130, -29.028690408), (-80, -29.028690408))
            ThreePointArc((-80, -29.028690408), (-76, -25.028690408), (-80, -21.028690408))
            Line((-80, -21.028690408), (-130, -21.028690408))
            ThreePointArc((-130, -21.028690408), (-134, -25.028690408), (-130, -29.028690408))
        make_face()
        with BuildLine():
            Line((-130, -14.028690408), (-80, -14.028690408))
            ThreePointArc((-80, -14.028690408), (-76, -10.028690408), (-80, -6.028690408))
            Line((-80, -6.028690408), (-130, -6.028690408))
            ThreePointArc((-130, -6.028690408), (-134, -10.028690408), (-130, -14.028690408))
        make_face()
        with BuildLine():
            Line((130, 29.028690408), (80, 29.028690408))
            ThreePointArc((80, 29.028690408), (76, 25.028690408), (80, 21.028690408))
            Line((80, 21.028690408), (130, 21.028690408))
            ThreePointArc((130, 21.028690408), (134, 25.028690408), (130, 29.028690408))
        make_face()
        with BuildLine():
            Line((130, 14.028690408), (80, 14.028690408))
            ThreePointArc((80, 14.028690408), (76, 10.028690408), (80, 6.028690408))
            Line((80, 6.028690408), (130, 6.028690408))
            ThreePointArc((130, 6.028690408), (134, 10.028690408), (130, 14.028690408))
        make_face()
        with BuildLine():
            Line((130, -29.028690408), (80, -29.028690408))
            ThreePointArc((80, -29.028690408), (76, -25.028690408), (80, -21.028690408))
            Line((80, -21.028690408), (130, -21.028690408))
            ThreePointArc((130, -21.028690408), (134, -25.028690408), (130, -29.028690408))
        make_face()
        with BuildLine():
            Line((130, -14.028690408), (80, -14.028690408))
            ThreePointArc((80, -14.028690408), (76, -10.028690408), (80, -6.028690408))
            Line((80, -6.028690408), (130, -6.028690408))
            ThreePointArc((130, -6.028690408), (134, -10.028690408), (130, -14.028690408))
        make_face()
    extrude(amount=-CUT_EXTRUDE_4_DEPTH, mode=Mode.SUBTRACT)

    # 倒角3
    chamfer_3_edges = [part.edges().sort_by_distance(p)[0] for p in [
        (155, 2, -70),
        (155, 2, 70),
        (-155, 2, 70),
        (-155, 2, -70),
    ]]
    chamfer(chamfer_3_edges, length=CHAMFER_3_SIZE)

    # 草图11 → 切除-拉伸5 (cut)
    with BuildSketch(Plane(origin=(0, 4, 0), x_dir=(1, 0, 0), z_dir=(0, 1, 0))):
        Rectangle(SKETCH_11_W, SKETCH_11_H)
    extrude(amount=-CUT_EXTRUDE_5_DEPTH, mode=Mode.SUBTRACT)

    # 圆角5
    fillet_5_edges = [part.edges().sort_by_distance(p)[0] for p in [
        (-57, 2, 57.014182654),
        (57, 2, -57.014182654),
        (57, 2, 57.014182654),
        (-57, 2, -57.014182654),
    ]]
    fillet(fillet_5_edges, radius=FILLET_5_R)


solid = part.part
